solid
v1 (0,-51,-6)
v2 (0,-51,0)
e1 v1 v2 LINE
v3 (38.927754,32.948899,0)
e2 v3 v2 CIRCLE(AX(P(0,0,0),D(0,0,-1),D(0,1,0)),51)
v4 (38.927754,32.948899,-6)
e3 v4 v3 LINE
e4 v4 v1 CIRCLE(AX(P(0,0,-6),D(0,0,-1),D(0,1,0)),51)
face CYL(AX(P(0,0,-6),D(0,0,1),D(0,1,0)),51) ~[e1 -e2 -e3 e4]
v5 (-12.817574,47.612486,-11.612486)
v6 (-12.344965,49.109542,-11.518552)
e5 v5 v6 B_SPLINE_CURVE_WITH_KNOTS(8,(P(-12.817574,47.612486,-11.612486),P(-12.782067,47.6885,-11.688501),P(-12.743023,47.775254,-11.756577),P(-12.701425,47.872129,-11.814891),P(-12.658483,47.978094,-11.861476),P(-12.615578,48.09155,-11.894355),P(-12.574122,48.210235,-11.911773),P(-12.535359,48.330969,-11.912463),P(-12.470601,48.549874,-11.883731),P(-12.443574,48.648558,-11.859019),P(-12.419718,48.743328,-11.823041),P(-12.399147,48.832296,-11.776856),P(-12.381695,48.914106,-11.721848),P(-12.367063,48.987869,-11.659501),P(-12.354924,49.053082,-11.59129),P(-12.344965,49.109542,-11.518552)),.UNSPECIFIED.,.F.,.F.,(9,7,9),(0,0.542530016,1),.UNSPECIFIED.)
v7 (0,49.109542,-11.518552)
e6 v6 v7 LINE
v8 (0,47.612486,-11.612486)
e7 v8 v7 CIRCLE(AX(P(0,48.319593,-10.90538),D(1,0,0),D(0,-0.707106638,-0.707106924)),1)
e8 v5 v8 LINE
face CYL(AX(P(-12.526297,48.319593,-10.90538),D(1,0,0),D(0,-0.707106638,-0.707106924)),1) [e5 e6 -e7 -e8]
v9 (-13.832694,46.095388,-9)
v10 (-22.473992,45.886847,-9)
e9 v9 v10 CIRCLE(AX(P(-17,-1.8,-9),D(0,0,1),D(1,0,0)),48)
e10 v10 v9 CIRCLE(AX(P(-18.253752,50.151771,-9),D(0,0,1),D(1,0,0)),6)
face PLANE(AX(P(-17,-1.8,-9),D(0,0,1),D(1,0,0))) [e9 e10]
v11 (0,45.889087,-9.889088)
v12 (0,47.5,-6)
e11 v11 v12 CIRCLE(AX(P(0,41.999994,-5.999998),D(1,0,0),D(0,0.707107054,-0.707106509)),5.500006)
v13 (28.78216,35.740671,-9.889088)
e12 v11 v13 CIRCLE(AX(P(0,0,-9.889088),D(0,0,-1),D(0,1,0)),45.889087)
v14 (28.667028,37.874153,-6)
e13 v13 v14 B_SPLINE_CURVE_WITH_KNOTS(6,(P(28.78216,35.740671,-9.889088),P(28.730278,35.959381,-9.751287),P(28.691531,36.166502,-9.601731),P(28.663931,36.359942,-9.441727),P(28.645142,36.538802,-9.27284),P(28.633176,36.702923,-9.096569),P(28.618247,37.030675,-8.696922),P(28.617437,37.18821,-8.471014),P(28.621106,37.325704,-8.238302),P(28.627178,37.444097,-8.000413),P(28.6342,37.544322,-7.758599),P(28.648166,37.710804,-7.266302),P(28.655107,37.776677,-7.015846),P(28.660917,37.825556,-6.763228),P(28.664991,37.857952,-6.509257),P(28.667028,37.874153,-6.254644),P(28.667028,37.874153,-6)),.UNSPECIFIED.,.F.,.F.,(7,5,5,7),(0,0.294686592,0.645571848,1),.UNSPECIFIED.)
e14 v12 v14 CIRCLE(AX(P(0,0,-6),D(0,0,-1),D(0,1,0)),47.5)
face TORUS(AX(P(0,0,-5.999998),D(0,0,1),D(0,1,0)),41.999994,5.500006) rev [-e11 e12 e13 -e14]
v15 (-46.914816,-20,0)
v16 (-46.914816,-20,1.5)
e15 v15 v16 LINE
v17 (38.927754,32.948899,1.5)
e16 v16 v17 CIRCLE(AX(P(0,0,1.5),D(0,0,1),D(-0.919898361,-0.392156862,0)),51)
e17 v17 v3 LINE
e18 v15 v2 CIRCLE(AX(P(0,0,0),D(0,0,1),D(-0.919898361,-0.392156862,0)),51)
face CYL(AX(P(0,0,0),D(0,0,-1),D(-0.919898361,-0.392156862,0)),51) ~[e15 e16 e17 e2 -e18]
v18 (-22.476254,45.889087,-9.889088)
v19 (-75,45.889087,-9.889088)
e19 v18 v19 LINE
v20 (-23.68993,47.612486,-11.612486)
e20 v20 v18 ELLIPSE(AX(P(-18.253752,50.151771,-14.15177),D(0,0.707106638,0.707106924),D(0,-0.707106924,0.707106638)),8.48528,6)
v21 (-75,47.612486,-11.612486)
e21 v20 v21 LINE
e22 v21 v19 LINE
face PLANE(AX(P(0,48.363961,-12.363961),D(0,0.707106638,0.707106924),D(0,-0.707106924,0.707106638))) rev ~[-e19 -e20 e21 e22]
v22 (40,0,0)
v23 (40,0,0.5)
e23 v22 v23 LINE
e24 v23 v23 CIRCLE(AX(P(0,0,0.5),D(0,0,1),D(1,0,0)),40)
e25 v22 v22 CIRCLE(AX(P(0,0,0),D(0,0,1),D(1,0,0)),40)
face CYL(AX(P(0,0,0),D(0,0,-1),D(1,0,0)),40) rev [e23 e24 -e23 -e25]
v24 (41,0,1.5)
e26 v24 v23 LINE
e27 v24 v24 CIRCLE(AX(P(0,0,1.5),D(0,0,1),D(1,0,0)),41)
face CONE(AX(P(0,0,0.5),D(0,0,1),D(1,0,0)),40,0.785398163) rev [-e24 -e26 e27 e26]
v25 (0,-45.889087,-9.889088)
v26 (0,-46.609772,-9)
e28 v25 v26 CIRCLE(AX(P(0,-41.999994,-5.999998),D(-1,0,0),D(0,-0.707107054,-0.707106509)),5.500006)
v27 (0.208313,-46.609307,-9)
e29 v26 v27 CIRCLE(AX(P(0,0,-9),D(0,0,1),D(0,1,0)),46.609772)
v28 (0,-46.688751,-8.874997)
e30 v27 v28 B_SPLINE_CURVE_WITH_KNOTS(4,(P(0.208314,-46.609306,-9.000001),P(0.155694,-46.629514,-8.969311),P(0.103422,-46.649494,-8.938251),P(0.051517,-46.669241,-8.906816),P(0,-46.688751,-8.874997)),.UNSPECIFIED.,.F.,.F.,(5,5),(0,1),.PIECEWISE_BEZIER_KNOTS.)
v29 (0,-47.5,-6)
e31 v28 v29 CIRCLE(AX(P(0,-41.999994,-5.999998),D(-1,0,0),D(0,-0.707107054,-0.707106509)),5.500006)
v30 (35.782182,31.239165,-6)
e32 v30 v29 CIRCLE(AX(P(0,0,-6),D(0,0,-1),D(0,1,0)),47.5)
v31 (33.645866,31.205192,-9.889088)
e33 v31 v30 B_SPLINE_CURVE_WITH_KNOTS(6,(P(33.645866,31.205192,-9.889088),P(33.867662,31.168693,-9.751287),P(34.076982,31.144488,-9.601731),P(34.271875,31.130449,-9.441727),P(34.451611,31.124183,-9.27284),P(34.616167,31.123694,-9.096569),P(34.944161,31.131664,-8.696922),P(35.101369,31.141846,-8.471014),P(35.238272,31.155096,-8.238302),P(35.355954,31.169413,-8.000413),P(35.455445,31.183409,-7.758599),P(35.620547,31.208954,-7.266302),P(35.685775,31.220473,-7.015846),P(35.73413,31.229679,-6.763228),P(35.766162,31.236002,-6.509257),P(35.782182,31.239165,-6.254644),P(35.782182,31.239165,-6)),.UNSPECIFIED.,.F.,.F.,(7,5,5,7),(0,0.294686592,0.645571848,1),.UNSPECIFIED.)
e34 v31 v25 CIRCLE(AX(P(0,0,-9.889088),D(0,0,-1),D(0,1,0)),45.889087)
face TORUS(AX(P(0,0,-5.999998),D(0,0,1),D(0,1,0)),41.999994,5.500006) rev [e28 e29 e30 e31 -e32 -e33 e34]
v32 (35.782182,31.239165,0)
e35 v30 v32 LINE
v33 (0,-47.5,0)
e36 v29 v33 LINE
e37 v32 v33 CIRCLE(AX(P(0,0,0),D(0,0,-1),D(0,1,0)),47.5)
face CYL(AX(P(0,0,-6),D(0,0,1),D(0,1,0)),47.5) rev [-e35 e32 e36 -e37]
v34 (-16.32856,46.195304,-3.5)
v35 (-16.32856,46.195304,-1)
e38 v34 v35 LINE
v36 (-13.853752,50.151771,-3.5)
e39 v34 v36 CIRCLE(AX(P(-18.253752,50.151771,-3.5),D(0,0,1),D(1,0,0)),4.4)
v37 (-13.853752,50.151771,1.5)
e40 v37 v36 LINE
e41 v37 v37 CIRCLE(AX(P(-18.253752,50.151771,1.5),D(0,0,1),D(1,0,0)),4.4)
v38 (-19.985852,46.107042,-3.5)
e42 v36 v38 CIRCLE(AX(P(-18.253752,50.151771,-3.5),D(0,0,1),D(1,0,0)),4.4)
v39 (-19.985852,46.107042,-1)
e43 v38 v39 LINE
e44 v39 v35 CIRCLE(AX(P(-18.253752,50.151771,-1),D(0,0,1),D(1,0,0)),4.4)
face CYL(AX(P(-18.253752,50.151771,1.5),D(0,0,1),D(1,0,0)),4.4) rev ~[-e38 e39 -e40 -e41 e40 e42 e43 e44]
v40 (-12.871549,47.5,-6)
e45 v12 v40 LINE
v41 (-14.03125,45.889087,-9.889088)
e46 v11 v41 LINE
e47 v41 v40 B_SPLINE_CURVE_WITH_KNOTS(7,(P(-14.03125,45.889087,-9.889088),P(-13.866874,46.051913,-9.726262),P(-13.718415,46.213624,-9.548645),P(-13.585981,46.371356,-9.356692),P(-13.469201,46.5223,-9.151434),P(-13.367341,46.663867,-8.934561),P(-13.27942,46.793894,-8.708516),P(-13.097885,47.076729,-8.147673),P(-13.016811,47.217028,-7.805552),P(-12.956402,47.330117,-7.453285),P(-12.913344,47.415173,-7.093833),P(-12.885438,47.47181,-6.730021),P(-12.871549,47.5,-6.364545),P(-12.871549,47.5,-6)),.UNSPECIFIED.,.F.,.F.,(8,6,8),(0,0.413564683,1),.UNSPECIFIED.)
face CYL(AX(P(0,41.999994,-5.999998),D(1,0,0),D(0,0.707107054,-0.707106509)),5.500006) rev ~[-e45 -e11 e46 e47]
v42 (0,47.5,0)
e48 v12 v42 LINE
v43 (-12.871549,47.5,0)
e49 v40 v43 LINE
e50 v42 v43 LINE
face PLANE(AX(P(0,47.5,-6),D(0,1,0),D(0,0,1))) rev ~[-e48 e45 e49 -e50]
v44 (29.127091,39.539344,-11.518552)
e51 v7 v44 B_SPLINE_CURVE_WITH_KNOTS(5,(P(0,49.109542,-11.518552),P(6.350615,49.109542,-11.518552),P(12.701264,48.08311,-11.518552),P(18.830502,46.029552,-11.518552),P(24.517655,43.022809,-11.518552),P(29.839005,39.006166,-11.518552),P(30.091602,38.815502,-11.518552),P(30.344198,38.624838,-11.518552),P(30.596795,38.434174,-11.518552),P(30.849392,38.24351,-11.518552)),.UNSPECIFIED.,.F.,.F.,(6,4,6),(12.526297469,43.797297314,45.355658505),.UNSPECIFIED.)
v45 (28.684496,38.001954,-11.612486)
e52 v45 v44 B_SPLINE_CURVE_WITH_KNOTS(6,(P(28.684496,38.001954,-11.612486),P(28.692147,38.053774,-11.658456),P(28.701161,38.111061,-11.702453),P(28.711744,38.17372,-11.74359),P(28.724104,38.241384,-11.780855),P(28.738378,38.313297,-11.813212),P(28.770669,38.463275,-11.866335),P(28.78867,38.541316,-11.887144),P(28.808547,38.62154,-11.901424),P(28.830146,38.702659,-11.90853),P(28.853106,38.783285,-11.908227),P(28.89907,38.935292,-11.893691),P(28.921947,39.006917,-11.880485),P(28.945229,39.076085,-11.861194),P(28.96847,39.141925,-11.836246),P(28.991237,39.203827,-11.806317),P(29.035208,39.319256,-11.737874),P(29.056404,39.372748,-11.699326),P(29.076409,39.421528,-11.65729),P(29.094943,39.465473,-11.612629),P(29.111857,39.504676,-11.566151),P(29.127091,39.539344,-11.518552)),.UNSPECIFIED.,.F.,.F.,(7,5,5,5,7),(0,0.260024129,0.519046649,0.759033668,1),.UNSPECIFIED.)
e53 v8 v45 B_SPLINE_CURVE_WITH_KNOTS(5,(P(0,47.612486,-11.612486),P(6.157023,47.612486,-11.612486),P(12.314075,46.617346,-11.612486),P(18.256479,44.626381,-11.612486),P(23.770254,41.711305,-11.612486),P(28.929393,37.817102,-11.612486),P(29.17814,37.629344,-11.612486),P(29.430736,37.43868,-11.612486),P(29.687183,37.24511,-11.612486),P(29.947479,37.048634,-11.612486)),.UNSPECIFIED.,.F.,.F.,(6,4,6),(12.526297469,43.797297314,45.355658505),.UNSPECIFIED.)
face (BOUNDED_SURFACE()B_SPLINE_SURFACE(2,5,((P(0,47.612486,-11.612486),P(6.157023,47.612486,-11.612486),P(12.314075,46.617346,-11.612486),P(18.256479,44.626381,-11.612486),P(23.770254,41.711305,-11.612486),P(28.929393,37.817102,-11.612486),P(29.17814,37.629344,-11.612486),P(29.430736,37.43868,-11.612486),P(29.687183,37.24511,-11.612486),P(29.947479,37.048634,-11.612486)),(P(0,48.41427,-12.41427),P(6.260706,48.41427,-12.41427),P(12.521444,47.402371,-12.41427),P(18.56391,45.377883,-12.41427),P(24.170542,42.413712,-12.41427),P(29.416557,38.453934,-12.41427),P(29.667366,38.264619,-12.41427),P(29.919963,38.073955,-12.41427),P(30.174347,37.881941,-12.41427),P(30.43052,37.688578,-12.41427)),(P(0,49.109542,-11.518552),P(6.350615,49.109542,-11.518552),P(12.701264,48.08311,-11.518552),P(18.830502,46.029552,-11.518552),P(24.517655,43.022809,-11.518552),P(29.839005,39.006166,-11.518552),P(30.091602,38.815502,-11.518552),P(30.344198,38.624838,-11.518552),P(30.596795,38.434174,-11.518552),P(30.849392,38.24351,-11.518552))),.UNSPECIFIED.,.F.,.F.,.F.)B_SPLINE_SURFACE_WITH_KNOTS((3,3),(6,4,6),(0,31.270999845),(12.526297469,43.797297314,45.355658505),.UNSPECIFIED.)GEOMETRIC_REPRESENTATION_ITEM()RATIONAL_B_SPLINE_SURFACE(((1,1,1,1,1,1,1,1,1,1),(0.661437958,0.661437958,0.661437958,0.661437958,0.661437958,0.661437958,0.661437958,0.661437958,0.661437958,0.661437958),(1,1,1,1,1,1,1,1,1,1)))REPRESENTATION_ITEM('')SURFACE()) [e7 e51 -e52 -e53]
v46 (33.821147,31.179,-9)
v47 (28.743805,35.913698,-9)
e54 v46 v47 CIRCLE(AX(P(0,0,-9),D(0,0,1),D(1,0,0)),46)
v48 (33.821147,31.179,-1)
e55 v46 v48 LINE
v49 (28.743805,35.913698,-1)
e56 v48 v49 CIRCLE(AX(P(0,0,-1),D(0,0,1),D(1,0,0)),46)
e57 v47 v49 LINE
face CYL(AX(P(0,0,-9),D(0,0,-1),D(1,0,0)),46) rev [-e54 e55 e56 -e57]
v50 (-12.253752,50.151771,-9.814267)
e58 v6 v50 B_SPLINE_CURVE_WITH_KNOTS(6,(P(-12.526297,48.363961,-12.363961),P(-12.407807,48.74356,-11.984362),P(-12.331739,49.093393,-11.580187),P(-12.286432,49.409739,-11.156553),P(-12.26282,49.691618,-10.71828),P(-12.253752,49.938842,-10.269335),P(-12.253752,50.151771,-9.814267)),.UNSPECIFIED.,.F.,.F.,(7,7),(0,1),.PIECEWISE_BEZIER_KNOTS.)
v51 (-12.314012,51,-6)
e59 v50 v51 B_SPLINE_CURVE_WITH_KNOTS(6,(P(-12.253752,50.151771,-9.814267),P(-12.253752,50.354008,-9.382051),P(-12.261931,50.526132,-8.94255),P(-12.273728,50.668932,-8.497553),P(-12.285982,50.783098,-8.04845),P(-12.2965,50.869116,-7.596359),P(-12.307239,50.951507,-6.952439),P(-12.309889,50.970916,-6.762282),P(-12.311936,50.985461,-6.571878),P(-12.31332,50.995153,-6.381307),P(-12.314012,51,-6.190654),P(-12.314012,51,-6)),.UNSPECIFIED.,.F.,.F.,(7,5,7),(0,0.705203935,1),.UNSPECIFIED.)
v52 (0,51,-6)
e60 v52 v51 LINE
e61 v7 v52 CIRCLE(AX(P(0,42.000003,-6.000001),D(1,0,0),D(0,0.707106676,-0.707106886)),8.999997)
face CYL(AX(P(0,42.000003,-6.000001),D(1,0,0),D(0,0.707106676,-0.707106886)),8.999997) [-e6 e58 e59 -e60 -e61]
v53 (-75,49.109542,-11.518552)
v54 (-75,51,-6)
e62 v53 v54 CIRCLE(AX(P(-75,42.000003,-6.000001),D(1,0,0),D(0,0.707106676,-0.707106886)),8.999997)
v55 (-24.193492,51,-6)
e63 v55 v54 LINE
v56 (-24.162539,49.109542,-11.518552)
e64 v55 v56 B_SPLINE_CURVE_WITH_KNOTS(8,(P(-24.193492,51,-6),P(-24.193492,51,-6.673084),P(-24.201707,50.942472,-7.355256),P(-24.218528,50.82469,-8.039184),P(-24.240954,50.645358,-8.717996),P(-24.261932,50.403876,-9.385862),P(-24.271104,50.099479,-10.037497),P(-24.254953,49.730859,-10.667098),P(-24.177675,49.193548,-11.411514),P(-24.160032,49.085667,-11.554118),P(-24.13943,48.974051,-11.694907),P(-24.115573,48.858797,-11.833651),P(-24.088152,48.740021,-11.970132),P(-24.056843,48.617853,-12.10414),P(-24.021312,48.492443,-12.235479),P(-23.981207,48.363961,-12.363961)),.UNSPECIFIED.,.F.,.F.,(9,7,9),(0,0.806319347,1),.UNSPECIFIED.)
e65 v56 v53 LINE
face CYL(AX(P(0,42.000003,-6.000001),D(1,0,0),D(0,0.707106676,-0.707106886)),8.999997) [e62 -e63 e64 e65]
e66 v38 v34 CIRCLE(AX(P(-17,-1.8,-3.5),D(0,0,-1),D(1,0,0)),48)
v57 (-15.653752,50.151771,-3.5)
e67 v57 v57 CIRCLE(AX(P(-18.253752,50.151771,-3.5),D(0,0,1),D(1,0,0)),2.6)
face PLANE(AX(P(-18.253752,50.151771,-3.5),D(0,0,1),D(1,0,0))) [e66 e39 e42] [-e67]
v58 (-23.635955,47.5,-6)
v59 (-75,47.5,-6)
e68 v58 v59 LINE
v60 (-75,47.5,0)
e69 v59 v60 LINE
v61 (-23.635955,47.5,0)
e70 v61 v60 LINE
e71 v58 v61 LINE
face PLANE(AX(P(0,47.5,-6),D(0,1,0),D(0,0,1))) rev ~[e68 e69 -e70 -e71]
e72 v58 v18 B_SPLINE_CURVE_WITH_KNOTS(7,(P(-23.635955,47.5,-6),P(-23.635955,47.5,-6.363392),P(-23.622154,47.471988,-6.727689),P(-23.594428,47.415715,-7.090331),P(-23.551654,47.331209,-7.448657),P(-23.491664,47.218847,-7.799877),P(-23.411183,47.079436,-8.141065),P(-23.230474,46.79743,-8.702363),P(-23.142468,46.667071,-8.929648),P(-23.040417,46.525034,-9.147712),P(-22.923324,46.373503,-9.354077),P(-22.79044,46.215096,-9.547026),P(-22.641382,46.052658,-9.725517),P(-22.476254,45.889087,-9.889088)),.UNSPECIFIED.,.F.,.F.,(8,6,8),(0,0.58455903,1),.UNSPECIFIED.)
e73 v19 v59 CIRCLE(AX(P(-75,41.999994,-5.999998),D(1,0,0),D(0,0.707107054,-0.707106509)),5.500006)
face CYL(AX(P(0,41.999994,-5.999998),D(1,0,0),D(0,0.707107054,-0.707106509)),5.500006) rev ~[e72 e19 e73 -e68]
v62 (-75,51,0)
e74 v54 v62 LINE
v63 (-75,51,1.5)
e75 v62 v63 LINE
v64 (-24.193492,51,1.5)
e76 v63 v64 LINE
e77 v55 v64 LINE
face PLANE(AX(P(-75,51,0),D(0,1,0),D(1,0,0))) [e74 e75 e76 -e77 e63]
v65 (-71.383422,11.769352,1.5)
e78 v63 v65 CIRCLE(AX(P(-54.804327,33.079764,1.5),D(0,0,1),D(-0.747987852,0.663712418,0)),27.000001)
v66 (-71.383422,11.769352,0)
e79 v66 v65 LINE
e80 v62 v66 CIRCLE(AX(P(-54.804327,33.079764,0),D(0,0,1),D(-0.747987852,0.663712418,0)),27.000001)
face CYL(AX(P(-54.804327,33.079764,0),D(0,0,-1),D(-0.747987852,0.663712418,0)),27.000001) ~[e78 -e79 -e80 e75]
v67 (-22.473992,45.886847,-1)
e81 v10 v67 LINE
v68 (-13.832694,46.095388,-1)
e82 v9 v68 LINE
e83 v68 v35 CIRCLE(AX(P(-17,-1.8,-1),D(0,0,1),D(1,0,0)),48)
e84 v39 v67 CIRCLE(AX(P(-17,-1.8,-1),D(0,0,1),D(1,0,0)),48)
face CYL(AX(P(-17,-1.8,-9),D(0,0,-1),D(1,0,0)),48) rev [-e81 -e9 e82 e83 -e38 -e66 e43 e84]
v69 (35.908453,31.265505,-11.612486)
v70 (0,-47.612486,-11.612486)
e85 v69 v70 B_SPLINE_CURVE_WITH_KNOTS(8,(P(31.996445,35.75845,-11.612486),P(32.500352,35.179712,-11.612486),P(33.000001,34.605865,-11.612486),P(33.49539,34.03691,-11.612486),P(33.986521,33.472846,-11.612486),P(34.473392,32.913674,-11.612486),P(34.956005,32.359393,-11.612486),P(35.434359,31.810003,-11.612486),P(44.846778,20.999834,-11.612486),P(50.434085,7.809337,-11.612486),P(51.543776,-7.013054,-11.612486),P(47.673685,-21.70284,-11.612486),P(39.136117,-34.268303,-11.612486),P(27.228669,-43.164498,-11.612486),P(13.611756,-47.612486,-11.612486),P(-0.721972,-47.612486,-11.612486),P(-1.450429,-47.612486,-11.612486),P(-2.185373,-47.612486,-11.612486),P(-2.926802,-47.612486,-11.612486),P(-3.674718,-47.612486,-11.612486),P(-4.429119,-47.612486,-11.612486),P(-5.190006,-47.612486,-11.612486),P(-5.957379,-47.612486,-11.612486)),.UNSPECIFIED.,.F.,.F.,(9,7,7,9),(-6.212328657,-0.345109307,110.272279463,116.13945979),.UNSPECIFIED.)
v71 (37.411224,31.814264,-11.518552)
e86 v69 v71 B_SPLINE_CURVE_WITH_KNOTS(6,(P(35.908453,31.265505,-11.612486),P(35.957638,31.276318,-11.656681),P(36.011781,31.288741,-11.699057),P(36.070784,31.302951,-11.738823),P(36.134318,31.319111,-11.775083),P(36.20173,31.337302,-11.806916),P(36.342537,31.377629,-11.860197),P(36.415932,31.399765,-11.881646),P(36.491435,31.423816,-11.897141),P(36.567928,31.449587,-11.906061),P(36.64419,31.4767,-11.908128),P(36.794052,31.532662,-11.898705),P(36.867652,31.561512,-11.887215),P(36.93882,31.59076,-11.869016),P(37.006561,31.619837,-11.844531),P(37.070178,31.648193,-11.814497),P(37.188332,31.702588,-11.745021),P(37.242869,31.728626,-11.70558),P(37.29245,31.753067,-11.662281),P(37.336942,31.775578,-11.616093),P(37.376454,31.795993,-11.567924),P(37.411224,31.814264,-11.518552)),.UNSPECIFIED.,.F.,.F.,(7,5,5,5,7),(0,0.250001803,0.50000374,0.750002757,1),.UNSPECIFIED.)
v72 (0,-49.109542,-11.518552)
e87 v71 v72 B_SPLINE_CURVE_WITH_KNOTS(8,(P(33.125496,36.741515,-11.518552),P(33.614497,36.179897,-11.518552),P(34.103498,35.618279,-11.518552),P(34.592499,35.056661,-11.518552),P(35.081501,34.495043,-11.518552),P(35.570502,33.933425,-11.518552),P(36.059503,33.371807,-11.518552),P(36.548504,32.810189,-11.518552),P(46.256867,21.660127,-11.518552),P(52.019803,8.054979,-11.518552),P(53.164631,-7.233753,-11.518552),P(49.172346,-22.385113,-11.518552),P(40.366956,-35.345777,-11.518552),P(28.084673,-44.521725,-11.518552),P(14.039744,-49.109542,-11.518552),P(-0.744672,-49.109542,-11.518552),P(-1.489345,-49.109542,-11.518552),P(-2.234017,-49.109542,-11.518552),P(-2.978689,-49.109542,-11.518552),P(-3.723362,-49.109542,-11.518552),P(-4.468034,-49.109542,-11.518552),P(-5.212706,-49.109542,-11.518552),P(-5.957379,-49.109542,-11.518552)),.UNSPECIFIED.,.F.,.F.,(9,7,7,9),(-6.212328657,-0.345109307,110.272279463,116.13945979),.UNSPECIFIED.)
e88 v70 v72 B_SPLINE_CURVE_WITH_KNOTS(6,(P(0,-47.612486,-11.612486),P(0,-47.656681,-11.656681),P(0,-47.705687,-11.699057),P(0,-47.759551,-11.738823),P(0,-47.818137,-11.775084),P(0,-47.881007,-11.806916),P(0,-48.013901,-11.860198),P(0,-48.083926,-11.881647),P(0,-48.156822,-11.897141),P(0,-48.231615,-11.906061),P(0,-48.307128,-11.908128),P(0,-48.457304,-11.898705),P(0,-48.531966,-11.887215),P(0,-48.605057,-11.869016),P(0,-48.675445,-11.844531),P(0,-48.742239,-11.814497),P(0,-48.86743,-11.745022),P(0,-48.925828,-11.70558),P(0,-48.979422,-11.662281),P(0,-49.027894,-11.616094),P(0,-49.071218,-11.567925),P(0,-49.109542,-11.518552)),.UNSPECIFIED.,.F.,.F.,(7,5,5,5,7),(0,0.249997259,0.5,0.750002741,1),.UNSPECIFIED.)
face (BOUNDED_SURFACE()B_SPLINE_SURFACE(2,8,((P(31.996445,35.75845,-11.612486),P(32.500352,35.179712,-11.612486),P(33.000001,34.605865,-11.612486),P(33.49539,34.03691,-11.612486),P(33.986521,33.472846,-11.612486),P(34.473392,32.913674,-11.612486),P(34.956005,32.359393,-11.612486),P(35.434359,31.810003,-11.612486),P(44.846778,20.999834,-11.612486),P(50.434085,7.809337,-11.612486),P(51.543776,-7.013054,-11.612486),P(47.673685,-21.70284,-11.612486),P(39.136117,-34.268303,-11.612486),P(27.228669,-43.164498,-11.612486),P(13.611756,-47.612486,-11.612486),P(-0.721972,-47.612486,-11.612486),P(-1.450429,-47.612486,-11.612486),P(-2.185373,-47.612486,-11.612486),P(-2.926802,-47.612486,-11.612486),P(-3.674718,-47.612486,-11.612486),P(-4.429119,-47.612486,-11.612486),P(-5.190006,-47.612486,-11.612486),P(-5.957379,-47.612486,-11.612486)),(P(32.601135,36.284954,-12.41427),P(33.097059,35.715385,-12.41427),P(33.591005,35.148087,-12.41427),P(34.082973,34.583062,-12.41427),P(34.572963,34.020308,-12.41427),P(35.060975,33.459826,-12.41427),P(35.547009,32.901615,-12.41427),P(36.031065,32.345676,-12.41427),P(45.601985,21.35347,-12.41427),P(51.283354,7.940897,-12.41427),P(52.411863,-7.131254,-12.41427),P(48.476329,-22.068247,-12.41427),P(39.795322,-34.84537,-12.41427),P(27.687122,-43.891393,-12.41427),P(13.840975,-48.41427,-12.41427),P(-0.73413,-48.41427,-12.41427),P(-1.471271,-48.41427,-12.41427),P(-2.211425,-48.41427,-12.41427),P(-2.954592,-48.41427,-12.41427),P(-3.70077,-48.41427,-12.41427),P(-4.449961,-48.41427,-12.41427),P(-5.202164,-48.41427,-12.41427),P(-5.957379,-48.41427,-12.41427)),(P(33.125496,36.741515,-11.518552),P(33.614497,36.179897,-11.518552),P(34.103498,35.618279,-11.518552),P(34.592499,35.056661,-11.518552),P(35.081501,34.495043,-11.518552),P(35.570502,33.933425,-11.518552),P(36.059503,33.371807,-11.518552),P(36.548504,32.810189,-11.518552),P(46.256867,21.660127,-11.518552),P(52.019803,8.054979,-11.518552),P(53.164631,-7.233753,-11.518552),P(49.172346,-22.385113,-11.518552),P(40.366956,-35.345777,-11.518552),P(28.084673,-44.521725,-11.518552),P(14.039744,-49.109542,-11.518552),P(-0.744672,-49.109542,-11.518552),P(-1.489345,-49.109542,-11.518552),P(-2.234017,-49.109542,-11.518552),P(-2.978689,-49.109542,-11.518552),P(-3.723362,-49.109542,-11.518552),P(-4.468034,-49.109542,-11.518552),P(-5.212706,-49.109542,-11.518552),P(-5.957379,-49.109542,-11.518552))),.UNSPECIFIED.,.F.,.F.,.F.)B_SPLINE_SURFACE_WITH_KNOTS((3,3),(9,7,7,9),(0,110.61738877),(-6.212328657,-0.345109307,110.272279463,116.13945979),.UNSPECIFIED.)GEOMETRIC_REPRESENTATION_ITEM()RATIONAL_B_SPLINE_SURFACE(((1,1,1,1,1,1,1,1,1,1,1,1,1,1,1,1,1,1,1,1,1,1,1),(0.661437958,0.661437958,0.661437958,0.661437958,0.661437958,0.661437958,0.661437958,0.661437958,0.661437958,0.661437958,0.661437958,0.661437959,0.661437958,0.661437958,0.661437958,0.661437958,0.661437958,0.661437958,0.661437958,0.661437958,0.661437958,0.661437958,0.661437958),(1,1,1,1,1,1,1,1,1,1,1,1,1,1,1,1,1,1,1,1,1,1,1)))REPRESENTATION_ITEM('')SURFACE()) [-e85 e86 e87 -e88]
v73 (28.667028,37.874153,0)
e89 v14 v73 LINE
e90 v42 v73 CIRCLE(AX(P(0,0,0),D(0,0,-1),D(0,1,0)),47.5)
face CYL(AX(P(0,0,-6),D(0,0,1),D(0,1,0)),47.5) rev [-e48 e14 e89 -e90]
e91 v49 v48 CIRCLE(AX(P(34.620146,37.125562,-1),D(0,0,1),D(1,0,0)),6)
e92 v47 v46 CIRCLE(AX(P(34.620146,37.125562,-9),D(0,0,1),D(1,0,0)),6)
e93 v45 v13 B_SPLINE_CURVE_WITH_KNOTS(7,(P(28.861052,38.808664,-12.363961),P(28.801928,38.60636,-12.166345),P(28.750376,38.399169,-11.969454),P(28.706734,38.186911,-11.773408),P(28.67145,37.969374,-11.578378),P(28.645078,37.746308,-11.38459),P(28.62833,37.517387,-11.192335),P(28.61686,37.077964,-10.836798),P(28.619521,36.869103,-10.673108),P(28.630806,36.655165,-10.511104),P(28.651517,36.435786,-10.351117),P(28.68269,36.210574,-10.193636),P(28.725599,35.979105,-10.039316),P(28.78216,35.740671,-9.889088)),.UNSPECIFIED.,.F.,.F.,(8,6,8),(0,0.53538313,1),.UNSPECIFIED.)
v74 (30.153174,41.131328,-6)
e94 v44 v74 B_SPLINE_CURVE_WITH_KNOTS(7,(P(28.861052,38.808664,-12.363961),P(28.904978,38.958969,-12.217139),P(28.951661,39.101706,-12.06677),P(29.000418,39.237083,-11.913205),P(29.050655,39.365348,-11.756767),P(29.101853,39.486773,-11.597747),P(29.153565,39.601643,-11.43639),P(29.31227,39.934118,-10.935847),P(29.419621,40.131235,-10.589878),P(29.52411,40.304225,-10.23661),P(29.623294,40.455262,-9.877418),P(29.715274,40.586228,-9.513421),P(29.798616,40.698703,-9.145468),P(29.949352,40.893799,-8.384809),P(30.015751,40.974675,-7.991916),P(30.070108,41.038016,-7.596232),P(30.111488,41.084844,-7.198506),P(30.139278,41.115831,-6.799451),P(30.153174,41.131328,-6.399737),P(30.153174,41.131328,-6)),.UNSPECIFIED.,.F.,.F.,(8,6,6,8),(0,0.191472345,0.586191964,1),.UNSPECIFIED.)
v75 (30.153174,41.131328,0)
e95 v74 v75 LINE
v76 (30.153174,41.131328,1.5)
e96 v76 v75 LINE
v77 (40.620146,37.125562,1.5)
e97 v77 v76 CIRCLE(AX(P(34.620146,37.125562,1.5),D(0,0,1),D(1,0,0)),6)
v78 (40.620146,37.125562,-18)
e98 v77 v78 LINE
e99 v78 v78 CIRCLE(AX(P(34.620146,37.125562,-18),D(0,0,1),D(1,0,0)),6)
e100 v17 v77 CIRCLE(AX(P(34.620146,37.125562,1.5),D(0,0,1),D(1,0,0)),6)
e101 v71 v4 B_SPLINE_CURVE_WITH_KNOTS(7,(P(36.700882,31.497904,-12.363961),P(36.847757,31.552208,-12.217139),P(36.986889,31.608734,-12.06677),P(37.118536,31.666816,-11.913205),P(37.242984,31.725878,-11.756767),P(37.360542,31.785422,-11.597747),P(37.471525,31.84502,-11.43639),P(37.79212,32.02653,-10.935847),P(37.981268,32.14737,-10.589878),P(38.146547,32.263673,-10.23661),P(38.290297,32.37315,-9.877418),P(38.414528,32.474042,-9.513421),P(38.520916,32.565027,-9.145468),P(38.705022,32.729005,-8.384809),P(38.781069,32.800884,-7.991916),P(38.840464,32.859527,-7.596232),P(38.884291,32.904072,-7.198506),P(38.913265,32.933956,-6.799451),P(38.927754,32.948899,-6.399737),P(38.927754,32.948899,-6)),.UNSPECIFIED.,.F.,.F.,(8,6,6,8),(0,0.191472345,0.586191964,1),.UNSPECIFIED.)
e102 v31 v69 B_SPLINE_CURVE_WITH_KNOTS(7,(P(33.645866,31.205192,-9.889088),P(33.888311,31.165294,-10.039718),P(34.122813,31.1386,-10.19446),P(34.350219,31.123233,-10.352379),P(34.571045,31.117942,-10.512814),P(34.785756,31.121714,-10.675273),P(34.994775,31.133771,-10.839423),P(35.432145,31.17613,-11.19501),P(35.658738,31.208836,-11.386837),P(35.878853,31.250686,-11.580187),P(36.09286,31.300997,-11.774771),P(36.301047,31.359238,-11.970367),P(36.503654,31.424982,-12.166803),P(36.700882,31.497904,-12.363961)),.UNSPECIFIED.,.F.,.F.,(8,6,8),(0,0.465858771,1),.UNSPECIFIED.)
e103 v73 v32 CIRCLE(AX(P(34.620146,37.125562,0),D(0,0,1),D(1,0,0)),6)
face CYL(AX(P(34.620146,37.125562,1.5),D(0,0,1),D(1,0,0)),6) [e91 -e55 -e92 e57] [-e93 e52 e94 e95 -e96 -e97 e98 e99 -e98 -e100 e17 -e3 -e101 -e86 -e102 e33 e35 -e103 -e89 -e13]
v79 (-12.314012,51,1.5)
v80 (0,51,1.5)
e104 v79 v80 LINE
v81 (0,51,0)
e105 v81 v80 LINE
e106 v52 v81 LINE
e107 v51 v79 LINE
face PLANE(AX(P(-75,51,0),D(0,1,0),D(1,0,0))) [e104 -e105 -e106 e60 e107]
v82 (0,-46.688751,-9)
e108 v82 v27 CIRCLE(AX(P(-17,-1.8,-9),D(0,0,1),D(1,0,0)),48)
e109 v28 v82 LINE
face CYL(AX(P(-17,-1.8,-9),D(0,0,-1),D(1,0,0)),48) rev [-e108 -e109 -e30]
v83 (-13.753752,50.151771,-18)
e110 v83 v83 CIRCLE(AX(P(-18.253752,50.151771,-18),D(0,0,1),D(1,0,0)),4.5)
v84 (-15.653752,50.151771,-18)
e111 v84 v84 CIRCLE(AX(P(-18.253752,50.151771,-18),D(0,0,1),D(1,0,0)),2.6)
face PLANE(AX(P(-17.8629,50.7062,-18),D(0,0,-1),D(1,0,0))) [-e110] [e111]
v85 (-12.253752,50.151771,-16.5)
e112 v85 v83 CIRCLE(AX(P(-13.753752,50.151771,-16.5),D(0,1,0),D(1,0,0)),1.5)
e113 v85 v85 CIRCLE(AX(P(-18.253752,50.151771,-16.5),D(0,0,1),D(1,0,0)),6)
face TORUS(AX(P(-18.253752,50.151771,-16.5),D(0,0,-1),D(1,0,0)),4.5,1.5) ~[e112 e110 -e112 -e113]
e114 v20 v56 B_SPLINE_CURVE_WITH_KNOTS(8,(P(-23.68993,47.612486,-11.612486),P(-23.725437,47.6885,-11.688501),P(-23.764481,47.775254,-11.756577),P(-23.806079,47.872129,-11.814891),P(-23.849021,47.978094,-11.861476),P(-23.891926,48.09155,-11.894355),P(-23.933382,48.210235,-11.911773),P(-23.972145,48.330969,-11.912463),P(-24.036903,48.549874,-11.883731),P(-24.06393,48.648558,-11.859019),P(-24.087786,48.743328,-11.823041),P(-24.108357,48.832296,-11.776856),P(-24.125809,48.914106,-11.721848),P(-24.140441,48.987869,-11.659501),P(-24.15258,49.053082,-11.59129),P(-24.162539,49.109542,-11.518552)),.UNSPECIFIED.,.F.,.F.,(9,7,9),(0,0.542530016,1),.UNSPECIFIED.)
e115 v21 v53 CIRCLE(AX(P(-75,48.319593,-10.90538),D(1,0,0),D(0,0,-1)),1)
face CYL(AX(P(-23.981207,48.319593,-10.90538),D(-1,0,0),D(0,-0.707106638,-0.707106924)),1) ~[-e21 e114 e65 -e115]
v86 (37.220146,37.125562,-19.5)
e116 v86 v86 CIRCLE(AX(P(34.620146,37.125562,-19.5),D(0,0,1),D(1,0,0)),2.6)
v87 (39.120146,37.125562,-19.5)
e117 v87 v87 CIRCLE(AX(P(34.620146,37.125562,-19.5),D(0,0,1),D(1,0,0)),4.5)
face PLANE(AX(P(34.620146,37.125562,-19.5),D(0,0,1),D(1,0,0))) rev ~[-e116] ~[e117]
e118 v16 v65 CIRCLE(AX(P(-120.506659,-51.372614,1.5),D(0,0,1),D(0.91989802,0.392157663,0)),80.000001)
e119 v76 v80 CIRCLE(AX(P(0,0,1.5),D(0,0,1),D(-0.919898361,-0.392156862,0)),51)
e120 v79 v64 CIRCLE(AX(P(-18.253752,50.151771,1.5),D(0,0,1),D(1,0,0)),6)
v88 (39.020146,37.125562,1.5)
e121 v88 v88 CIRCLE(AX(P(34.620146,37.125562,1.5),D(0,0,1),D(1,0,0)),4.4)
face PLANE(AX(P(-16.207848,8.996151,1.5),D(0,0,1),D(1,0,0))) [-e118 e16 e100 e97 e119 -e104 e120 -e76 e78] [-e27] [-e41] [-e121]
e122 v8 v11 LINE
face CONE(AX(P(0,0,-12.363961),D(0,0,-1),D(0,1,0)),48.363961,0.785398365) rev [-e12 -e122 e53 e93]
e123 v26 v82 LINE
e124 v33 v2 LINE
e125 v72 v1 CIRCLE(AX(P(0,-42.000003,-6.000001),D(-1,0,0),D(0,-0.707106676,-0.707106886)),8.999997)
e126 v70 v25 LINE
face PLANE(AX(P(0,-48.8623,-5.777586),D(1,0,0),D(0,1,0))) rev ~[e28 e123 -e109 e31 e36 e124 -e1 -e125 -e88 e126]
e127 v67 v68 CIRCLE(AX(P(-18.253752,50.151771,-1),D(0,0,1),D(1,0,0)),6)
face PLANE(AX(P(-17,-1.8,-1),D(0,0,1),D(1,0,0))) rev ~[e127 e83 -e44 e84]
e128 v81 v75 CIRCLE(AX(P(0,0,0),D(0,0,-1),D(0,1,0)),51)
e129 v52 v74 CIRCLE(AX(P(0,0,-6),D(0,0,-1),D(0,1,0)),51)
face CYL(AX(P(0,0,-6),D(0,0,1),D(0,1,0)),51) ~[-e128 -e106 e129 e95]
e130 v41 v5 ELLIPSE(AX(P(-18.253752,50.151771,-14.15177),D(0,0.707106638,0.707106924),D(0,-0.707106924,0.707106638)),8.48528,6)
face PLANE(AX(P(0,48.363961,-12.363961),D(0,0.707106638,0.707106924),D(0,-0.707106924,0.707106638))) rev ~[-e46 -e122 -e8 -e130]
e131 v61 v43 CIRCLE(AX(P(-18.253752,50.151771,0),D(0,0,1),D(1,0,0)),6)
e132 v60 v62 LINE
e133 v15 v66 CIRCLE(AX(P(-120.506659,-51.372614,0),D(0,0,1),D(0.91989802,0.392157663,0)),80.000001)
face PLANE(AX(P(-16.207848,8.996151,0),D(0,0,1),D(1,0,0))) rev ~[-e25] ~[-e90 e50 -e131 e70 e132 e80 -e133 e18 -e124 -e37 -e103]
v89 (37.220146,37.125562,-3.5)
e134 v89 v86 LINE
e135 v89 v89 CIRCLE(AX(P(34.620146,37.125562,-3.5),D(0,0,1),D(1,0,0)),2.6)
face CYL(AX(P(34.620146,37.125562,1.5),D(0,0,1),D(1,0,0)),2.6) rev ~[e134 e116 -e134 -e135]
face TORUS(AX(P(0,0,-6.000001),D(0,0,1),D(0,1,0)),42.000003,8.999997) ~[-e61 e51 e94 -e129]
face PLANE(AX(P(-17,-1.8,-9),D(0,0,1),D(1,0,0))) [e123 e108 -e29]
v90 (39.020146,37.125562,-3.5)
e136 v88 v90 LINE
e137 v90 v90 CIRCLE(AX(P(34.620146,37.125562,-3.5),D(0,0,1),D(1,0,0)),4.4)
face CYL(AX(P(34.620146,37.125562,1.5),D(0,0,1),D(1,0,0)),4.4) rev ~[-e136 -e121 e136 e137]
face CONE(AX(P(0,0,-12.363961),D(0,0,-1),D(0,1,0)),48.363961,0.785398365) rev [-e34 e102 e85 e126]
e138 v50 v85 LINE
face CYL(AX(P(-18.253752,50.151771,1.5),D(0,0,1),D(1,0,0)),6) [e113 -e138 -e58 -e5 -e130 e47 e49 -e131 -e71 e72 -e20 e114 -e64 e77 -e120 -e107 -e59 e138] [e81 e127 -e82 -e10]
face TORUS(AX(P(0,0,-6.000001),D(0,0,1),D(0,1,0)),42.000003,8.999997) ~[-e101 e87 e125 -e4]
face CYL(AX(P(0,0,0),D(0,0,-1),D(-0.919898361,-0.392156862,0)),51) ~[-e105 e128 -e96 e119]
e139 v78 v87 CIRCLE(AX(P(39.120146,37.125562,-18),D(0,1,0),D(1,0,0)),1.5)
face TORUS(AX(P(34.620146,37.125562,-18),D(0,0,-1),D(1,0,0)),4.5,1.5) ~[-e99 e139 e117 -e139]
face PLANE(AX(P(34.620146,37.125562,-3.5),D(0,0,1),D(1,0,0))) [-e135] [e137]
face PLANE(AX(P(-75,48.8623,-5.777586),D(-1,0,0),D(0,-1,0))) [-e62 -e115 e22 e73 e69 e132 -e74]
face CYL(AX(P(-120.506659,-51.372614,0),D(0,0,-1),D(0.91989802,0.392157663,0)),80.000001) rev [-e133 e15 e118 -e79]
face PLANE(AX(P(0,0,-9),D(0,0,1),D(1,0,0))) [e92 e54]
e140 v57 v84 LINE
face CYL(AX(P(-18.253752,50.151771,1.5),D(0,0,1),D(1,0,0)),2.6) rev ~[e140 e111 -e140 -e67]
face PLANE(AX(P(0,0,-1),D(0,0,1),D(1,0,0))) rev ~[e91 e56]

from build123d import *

# Parameters (mm, degrees)
CYLINDER004_R     = 48
CYLINDER004_DEPTH = 8
CYLINDER_R        = 46
CYLINDER_DEPTH    = 8
REVOLUTION_ANGLE  = -180
SKETCH_R          = 40
PAD_DEPTH         = 1.5
PAD001_DEPTH      = 75
SKETCH005_R       = 6
PAD002_DEPTH      = 21
SKETCH012_R       = 2.6
POCKET_DEPTH      = 21.001
SKETCH013_R       = 4.4
POCKET001_DEPTH   = 5
SKETCH008_W       = 35.7258
SKETCH008_H       = 35.7258
POCKET002_DEPTH   = 1.5
CHAMFER_SIZE      = 1
FILLET_R          = 1
FILLET001_R       = 1
FILLET002_R       = 1
FILLET003_R       = 1.5


with BuildPart() as cylinder004:
    # Cylinder004 → Cylinder004 (new body)
    with BuildSketch(Plane(origin=(-17, -1.8, -9), x_dir=(1, 0, 0), z_dir=(0, 0, 1))):
        Circle(CYLINDER004_R)
    extrude(amount=CYLINDER004_DEPTH)


with BuildPart() as cylinder:
    # Cylinder → Cylinder (new body)
    with BuildSketch(Plane.XY.offset(-9)):
        Circle(CYLINDER_R)
    extrude(amount=CYLINDER_DEPTH)


with BuildPart() as revolution:
    # Sketch004 → Revolution (revolve)
    with BuildSketch(Plane.YZ):
        with BuildLine():
            Line((48.363961, -12.363961), (45.889087, -9.889088))
            ThreePointArc((45.889087, -9.889088), (47.081337, -8.104759), (47.5, -6))
            Line((47.5, -6), (47.5, 0))
            Line((47.5, 0), (51, 0))
            Line((51, -6), (51, 0))
            ThreePointArc((48.363961, -12.363961), (50.314916, -9.444151), (51, -6))
        make_face()
    revolve(axis=Axis((0, 0, 0), (0, 0, 1)), revolution_arc=REVOLUTION_ANGLE)


with BuildPart() as pad:
    # Sketch → Pad (new body)
    with BuildSketch(Plane.XY):
        with BuildLine():
            ThreePointArc((-46.914816, -20), (42.549971, -28.115832), (0, 51))
            Line((-75, 51), (0, 51))
            ThreePointArc((-75, 51), (-81.690324, 30.60121), (-71.383422, 11.769352))
            ThreePointArc((-46.914816, -20), (-57.126294, -2.557354), (-71.383422, 11.769352))
        make_face()
        Circle(SKETCH_R, mode=Mode.SUBTRACT)
    extrude(amount=PAD_DEPTH)


with BuildPart() as fillet003:
    # Sketch009 → Pad001 (new body)
    with BuildSketch(Plane.YZ):
        with BuildLine():
            Line((48.363961, -12.363961), (45.889087, -9.889088))
            ThreePointArc((45.889087, -9.889088), (47.081337, -8.104759), (47.5, -6))
            Line((47.5, -6), (47.5, 0))
            Line((47.5, 0), (51, 0))
            Line((51, -6), (51, 0))
            ThreePointArc((48.363961, -12.363961), (50.314916, -9.444151), (51, -6))
        make_face()
    extrude(amount=-PAD001_DEPTH)

    # Fusion: union Revolution, Pad
    add(revolution.part)
    add(pad.part)

    # Sketch005 → Pad002 (new body)
    with BuildSketch(Plane.XY.offset(1.5)):
        with Locations((-18.253752, 50.151771)):
            Circle(SKETCH005_R)
        with Locations((34.620146, 37.125562)):
            Circle(SKETCH005_R)
    extrude(amount=-PAD002_DEPTH)

    # Sketch012 → Pocket (cut, through all)
    with BuildSketch(Plane.XY.offset(1.5)):
        with Locations((-18.253752, 50.151771)):
            Circle(SKETCH012_R)
        with Locations((34.620146, 37.125562)):
            Circle(SKETCH012_R)
    extrude(amount=-POCKET_DEPTH, mode=Mode.SUBTRACT)

    # Sketch013 → Pocket001 (cut)
    with BuildSketch(Plane.XY.offset(1.5)):
        with Locations((-18.253752, 50.151771)):
            Circle(SKETCH013_R)
        with Locations((34.620146, 37.125562)):
            Circle(SKETCH013_R)
    extrude(amount=-POCKET001_DEPTH, mode=Mode.SUBTRACT)

    # Sketch008 → Pocket002 (cut)
    with BuildSketch(Plane(origin=(0, 0, -19.5), x_dir=(1, 0, 0), z_dir=(0, 0, -1))):
        with Locations((-17.8629, -50.7062)):
            Rectangle(SKETCH008_W, SKETCH008_H)
    extrude(amount=-POCKET002_DEPTH, mode=Mode.SUBTRACT)

    # Cut: cut Cylinder
    add(cylinder.part, mode=Mode.SUBTRACT)

    # Cut001: cut Cylinder004
    add(cylinder004.part, mode=Mode.SUBTRACT)

    # Chamfer
    chamfer_edges = [fillet003.edges().sort_by_distance(p)[0] for p in [
        (-40, 0, 1.5),
    ]]
    chamfer(chamfer_edges, length=CHAMFER_SIZE)

    # Fillet
    fillet_edges = [fillet003.edges().sort_by_distance(p)[0] for p in [
        (43.945626, -20.195412, -12.363961),
    ]]
    fillet(fillet_edges, radius=FILLET_R)

    # Fillet001
    fillet001_edges = [fillet003.edges().sort_by_distance(p)[0] for p in [
        (15.200855, 45.913034, -12.363961),
    ]]
    fillet(fillet001_edges, radius=FILLET001_R)

    # Fillet002
    fillet002_edges = [fillet003.edges().sort_by_distance(p)[0] for p in [
        (-49.490603, 48.363961, -12.363961),
    ]]
    fillet(fillet002_edges, radius=FILLET002_R)

    # Fillet003
    fillet003_edges = [fillet003.edges().sort_by_distance(p)[0] for p in [
        (-24.253752, 50.151771, -18),
        (28.620146, 37.125562, -19.5),
    ]]
    fillet(fillet003_edges, radius=FILLET003_R)


solid = fillet003.part
